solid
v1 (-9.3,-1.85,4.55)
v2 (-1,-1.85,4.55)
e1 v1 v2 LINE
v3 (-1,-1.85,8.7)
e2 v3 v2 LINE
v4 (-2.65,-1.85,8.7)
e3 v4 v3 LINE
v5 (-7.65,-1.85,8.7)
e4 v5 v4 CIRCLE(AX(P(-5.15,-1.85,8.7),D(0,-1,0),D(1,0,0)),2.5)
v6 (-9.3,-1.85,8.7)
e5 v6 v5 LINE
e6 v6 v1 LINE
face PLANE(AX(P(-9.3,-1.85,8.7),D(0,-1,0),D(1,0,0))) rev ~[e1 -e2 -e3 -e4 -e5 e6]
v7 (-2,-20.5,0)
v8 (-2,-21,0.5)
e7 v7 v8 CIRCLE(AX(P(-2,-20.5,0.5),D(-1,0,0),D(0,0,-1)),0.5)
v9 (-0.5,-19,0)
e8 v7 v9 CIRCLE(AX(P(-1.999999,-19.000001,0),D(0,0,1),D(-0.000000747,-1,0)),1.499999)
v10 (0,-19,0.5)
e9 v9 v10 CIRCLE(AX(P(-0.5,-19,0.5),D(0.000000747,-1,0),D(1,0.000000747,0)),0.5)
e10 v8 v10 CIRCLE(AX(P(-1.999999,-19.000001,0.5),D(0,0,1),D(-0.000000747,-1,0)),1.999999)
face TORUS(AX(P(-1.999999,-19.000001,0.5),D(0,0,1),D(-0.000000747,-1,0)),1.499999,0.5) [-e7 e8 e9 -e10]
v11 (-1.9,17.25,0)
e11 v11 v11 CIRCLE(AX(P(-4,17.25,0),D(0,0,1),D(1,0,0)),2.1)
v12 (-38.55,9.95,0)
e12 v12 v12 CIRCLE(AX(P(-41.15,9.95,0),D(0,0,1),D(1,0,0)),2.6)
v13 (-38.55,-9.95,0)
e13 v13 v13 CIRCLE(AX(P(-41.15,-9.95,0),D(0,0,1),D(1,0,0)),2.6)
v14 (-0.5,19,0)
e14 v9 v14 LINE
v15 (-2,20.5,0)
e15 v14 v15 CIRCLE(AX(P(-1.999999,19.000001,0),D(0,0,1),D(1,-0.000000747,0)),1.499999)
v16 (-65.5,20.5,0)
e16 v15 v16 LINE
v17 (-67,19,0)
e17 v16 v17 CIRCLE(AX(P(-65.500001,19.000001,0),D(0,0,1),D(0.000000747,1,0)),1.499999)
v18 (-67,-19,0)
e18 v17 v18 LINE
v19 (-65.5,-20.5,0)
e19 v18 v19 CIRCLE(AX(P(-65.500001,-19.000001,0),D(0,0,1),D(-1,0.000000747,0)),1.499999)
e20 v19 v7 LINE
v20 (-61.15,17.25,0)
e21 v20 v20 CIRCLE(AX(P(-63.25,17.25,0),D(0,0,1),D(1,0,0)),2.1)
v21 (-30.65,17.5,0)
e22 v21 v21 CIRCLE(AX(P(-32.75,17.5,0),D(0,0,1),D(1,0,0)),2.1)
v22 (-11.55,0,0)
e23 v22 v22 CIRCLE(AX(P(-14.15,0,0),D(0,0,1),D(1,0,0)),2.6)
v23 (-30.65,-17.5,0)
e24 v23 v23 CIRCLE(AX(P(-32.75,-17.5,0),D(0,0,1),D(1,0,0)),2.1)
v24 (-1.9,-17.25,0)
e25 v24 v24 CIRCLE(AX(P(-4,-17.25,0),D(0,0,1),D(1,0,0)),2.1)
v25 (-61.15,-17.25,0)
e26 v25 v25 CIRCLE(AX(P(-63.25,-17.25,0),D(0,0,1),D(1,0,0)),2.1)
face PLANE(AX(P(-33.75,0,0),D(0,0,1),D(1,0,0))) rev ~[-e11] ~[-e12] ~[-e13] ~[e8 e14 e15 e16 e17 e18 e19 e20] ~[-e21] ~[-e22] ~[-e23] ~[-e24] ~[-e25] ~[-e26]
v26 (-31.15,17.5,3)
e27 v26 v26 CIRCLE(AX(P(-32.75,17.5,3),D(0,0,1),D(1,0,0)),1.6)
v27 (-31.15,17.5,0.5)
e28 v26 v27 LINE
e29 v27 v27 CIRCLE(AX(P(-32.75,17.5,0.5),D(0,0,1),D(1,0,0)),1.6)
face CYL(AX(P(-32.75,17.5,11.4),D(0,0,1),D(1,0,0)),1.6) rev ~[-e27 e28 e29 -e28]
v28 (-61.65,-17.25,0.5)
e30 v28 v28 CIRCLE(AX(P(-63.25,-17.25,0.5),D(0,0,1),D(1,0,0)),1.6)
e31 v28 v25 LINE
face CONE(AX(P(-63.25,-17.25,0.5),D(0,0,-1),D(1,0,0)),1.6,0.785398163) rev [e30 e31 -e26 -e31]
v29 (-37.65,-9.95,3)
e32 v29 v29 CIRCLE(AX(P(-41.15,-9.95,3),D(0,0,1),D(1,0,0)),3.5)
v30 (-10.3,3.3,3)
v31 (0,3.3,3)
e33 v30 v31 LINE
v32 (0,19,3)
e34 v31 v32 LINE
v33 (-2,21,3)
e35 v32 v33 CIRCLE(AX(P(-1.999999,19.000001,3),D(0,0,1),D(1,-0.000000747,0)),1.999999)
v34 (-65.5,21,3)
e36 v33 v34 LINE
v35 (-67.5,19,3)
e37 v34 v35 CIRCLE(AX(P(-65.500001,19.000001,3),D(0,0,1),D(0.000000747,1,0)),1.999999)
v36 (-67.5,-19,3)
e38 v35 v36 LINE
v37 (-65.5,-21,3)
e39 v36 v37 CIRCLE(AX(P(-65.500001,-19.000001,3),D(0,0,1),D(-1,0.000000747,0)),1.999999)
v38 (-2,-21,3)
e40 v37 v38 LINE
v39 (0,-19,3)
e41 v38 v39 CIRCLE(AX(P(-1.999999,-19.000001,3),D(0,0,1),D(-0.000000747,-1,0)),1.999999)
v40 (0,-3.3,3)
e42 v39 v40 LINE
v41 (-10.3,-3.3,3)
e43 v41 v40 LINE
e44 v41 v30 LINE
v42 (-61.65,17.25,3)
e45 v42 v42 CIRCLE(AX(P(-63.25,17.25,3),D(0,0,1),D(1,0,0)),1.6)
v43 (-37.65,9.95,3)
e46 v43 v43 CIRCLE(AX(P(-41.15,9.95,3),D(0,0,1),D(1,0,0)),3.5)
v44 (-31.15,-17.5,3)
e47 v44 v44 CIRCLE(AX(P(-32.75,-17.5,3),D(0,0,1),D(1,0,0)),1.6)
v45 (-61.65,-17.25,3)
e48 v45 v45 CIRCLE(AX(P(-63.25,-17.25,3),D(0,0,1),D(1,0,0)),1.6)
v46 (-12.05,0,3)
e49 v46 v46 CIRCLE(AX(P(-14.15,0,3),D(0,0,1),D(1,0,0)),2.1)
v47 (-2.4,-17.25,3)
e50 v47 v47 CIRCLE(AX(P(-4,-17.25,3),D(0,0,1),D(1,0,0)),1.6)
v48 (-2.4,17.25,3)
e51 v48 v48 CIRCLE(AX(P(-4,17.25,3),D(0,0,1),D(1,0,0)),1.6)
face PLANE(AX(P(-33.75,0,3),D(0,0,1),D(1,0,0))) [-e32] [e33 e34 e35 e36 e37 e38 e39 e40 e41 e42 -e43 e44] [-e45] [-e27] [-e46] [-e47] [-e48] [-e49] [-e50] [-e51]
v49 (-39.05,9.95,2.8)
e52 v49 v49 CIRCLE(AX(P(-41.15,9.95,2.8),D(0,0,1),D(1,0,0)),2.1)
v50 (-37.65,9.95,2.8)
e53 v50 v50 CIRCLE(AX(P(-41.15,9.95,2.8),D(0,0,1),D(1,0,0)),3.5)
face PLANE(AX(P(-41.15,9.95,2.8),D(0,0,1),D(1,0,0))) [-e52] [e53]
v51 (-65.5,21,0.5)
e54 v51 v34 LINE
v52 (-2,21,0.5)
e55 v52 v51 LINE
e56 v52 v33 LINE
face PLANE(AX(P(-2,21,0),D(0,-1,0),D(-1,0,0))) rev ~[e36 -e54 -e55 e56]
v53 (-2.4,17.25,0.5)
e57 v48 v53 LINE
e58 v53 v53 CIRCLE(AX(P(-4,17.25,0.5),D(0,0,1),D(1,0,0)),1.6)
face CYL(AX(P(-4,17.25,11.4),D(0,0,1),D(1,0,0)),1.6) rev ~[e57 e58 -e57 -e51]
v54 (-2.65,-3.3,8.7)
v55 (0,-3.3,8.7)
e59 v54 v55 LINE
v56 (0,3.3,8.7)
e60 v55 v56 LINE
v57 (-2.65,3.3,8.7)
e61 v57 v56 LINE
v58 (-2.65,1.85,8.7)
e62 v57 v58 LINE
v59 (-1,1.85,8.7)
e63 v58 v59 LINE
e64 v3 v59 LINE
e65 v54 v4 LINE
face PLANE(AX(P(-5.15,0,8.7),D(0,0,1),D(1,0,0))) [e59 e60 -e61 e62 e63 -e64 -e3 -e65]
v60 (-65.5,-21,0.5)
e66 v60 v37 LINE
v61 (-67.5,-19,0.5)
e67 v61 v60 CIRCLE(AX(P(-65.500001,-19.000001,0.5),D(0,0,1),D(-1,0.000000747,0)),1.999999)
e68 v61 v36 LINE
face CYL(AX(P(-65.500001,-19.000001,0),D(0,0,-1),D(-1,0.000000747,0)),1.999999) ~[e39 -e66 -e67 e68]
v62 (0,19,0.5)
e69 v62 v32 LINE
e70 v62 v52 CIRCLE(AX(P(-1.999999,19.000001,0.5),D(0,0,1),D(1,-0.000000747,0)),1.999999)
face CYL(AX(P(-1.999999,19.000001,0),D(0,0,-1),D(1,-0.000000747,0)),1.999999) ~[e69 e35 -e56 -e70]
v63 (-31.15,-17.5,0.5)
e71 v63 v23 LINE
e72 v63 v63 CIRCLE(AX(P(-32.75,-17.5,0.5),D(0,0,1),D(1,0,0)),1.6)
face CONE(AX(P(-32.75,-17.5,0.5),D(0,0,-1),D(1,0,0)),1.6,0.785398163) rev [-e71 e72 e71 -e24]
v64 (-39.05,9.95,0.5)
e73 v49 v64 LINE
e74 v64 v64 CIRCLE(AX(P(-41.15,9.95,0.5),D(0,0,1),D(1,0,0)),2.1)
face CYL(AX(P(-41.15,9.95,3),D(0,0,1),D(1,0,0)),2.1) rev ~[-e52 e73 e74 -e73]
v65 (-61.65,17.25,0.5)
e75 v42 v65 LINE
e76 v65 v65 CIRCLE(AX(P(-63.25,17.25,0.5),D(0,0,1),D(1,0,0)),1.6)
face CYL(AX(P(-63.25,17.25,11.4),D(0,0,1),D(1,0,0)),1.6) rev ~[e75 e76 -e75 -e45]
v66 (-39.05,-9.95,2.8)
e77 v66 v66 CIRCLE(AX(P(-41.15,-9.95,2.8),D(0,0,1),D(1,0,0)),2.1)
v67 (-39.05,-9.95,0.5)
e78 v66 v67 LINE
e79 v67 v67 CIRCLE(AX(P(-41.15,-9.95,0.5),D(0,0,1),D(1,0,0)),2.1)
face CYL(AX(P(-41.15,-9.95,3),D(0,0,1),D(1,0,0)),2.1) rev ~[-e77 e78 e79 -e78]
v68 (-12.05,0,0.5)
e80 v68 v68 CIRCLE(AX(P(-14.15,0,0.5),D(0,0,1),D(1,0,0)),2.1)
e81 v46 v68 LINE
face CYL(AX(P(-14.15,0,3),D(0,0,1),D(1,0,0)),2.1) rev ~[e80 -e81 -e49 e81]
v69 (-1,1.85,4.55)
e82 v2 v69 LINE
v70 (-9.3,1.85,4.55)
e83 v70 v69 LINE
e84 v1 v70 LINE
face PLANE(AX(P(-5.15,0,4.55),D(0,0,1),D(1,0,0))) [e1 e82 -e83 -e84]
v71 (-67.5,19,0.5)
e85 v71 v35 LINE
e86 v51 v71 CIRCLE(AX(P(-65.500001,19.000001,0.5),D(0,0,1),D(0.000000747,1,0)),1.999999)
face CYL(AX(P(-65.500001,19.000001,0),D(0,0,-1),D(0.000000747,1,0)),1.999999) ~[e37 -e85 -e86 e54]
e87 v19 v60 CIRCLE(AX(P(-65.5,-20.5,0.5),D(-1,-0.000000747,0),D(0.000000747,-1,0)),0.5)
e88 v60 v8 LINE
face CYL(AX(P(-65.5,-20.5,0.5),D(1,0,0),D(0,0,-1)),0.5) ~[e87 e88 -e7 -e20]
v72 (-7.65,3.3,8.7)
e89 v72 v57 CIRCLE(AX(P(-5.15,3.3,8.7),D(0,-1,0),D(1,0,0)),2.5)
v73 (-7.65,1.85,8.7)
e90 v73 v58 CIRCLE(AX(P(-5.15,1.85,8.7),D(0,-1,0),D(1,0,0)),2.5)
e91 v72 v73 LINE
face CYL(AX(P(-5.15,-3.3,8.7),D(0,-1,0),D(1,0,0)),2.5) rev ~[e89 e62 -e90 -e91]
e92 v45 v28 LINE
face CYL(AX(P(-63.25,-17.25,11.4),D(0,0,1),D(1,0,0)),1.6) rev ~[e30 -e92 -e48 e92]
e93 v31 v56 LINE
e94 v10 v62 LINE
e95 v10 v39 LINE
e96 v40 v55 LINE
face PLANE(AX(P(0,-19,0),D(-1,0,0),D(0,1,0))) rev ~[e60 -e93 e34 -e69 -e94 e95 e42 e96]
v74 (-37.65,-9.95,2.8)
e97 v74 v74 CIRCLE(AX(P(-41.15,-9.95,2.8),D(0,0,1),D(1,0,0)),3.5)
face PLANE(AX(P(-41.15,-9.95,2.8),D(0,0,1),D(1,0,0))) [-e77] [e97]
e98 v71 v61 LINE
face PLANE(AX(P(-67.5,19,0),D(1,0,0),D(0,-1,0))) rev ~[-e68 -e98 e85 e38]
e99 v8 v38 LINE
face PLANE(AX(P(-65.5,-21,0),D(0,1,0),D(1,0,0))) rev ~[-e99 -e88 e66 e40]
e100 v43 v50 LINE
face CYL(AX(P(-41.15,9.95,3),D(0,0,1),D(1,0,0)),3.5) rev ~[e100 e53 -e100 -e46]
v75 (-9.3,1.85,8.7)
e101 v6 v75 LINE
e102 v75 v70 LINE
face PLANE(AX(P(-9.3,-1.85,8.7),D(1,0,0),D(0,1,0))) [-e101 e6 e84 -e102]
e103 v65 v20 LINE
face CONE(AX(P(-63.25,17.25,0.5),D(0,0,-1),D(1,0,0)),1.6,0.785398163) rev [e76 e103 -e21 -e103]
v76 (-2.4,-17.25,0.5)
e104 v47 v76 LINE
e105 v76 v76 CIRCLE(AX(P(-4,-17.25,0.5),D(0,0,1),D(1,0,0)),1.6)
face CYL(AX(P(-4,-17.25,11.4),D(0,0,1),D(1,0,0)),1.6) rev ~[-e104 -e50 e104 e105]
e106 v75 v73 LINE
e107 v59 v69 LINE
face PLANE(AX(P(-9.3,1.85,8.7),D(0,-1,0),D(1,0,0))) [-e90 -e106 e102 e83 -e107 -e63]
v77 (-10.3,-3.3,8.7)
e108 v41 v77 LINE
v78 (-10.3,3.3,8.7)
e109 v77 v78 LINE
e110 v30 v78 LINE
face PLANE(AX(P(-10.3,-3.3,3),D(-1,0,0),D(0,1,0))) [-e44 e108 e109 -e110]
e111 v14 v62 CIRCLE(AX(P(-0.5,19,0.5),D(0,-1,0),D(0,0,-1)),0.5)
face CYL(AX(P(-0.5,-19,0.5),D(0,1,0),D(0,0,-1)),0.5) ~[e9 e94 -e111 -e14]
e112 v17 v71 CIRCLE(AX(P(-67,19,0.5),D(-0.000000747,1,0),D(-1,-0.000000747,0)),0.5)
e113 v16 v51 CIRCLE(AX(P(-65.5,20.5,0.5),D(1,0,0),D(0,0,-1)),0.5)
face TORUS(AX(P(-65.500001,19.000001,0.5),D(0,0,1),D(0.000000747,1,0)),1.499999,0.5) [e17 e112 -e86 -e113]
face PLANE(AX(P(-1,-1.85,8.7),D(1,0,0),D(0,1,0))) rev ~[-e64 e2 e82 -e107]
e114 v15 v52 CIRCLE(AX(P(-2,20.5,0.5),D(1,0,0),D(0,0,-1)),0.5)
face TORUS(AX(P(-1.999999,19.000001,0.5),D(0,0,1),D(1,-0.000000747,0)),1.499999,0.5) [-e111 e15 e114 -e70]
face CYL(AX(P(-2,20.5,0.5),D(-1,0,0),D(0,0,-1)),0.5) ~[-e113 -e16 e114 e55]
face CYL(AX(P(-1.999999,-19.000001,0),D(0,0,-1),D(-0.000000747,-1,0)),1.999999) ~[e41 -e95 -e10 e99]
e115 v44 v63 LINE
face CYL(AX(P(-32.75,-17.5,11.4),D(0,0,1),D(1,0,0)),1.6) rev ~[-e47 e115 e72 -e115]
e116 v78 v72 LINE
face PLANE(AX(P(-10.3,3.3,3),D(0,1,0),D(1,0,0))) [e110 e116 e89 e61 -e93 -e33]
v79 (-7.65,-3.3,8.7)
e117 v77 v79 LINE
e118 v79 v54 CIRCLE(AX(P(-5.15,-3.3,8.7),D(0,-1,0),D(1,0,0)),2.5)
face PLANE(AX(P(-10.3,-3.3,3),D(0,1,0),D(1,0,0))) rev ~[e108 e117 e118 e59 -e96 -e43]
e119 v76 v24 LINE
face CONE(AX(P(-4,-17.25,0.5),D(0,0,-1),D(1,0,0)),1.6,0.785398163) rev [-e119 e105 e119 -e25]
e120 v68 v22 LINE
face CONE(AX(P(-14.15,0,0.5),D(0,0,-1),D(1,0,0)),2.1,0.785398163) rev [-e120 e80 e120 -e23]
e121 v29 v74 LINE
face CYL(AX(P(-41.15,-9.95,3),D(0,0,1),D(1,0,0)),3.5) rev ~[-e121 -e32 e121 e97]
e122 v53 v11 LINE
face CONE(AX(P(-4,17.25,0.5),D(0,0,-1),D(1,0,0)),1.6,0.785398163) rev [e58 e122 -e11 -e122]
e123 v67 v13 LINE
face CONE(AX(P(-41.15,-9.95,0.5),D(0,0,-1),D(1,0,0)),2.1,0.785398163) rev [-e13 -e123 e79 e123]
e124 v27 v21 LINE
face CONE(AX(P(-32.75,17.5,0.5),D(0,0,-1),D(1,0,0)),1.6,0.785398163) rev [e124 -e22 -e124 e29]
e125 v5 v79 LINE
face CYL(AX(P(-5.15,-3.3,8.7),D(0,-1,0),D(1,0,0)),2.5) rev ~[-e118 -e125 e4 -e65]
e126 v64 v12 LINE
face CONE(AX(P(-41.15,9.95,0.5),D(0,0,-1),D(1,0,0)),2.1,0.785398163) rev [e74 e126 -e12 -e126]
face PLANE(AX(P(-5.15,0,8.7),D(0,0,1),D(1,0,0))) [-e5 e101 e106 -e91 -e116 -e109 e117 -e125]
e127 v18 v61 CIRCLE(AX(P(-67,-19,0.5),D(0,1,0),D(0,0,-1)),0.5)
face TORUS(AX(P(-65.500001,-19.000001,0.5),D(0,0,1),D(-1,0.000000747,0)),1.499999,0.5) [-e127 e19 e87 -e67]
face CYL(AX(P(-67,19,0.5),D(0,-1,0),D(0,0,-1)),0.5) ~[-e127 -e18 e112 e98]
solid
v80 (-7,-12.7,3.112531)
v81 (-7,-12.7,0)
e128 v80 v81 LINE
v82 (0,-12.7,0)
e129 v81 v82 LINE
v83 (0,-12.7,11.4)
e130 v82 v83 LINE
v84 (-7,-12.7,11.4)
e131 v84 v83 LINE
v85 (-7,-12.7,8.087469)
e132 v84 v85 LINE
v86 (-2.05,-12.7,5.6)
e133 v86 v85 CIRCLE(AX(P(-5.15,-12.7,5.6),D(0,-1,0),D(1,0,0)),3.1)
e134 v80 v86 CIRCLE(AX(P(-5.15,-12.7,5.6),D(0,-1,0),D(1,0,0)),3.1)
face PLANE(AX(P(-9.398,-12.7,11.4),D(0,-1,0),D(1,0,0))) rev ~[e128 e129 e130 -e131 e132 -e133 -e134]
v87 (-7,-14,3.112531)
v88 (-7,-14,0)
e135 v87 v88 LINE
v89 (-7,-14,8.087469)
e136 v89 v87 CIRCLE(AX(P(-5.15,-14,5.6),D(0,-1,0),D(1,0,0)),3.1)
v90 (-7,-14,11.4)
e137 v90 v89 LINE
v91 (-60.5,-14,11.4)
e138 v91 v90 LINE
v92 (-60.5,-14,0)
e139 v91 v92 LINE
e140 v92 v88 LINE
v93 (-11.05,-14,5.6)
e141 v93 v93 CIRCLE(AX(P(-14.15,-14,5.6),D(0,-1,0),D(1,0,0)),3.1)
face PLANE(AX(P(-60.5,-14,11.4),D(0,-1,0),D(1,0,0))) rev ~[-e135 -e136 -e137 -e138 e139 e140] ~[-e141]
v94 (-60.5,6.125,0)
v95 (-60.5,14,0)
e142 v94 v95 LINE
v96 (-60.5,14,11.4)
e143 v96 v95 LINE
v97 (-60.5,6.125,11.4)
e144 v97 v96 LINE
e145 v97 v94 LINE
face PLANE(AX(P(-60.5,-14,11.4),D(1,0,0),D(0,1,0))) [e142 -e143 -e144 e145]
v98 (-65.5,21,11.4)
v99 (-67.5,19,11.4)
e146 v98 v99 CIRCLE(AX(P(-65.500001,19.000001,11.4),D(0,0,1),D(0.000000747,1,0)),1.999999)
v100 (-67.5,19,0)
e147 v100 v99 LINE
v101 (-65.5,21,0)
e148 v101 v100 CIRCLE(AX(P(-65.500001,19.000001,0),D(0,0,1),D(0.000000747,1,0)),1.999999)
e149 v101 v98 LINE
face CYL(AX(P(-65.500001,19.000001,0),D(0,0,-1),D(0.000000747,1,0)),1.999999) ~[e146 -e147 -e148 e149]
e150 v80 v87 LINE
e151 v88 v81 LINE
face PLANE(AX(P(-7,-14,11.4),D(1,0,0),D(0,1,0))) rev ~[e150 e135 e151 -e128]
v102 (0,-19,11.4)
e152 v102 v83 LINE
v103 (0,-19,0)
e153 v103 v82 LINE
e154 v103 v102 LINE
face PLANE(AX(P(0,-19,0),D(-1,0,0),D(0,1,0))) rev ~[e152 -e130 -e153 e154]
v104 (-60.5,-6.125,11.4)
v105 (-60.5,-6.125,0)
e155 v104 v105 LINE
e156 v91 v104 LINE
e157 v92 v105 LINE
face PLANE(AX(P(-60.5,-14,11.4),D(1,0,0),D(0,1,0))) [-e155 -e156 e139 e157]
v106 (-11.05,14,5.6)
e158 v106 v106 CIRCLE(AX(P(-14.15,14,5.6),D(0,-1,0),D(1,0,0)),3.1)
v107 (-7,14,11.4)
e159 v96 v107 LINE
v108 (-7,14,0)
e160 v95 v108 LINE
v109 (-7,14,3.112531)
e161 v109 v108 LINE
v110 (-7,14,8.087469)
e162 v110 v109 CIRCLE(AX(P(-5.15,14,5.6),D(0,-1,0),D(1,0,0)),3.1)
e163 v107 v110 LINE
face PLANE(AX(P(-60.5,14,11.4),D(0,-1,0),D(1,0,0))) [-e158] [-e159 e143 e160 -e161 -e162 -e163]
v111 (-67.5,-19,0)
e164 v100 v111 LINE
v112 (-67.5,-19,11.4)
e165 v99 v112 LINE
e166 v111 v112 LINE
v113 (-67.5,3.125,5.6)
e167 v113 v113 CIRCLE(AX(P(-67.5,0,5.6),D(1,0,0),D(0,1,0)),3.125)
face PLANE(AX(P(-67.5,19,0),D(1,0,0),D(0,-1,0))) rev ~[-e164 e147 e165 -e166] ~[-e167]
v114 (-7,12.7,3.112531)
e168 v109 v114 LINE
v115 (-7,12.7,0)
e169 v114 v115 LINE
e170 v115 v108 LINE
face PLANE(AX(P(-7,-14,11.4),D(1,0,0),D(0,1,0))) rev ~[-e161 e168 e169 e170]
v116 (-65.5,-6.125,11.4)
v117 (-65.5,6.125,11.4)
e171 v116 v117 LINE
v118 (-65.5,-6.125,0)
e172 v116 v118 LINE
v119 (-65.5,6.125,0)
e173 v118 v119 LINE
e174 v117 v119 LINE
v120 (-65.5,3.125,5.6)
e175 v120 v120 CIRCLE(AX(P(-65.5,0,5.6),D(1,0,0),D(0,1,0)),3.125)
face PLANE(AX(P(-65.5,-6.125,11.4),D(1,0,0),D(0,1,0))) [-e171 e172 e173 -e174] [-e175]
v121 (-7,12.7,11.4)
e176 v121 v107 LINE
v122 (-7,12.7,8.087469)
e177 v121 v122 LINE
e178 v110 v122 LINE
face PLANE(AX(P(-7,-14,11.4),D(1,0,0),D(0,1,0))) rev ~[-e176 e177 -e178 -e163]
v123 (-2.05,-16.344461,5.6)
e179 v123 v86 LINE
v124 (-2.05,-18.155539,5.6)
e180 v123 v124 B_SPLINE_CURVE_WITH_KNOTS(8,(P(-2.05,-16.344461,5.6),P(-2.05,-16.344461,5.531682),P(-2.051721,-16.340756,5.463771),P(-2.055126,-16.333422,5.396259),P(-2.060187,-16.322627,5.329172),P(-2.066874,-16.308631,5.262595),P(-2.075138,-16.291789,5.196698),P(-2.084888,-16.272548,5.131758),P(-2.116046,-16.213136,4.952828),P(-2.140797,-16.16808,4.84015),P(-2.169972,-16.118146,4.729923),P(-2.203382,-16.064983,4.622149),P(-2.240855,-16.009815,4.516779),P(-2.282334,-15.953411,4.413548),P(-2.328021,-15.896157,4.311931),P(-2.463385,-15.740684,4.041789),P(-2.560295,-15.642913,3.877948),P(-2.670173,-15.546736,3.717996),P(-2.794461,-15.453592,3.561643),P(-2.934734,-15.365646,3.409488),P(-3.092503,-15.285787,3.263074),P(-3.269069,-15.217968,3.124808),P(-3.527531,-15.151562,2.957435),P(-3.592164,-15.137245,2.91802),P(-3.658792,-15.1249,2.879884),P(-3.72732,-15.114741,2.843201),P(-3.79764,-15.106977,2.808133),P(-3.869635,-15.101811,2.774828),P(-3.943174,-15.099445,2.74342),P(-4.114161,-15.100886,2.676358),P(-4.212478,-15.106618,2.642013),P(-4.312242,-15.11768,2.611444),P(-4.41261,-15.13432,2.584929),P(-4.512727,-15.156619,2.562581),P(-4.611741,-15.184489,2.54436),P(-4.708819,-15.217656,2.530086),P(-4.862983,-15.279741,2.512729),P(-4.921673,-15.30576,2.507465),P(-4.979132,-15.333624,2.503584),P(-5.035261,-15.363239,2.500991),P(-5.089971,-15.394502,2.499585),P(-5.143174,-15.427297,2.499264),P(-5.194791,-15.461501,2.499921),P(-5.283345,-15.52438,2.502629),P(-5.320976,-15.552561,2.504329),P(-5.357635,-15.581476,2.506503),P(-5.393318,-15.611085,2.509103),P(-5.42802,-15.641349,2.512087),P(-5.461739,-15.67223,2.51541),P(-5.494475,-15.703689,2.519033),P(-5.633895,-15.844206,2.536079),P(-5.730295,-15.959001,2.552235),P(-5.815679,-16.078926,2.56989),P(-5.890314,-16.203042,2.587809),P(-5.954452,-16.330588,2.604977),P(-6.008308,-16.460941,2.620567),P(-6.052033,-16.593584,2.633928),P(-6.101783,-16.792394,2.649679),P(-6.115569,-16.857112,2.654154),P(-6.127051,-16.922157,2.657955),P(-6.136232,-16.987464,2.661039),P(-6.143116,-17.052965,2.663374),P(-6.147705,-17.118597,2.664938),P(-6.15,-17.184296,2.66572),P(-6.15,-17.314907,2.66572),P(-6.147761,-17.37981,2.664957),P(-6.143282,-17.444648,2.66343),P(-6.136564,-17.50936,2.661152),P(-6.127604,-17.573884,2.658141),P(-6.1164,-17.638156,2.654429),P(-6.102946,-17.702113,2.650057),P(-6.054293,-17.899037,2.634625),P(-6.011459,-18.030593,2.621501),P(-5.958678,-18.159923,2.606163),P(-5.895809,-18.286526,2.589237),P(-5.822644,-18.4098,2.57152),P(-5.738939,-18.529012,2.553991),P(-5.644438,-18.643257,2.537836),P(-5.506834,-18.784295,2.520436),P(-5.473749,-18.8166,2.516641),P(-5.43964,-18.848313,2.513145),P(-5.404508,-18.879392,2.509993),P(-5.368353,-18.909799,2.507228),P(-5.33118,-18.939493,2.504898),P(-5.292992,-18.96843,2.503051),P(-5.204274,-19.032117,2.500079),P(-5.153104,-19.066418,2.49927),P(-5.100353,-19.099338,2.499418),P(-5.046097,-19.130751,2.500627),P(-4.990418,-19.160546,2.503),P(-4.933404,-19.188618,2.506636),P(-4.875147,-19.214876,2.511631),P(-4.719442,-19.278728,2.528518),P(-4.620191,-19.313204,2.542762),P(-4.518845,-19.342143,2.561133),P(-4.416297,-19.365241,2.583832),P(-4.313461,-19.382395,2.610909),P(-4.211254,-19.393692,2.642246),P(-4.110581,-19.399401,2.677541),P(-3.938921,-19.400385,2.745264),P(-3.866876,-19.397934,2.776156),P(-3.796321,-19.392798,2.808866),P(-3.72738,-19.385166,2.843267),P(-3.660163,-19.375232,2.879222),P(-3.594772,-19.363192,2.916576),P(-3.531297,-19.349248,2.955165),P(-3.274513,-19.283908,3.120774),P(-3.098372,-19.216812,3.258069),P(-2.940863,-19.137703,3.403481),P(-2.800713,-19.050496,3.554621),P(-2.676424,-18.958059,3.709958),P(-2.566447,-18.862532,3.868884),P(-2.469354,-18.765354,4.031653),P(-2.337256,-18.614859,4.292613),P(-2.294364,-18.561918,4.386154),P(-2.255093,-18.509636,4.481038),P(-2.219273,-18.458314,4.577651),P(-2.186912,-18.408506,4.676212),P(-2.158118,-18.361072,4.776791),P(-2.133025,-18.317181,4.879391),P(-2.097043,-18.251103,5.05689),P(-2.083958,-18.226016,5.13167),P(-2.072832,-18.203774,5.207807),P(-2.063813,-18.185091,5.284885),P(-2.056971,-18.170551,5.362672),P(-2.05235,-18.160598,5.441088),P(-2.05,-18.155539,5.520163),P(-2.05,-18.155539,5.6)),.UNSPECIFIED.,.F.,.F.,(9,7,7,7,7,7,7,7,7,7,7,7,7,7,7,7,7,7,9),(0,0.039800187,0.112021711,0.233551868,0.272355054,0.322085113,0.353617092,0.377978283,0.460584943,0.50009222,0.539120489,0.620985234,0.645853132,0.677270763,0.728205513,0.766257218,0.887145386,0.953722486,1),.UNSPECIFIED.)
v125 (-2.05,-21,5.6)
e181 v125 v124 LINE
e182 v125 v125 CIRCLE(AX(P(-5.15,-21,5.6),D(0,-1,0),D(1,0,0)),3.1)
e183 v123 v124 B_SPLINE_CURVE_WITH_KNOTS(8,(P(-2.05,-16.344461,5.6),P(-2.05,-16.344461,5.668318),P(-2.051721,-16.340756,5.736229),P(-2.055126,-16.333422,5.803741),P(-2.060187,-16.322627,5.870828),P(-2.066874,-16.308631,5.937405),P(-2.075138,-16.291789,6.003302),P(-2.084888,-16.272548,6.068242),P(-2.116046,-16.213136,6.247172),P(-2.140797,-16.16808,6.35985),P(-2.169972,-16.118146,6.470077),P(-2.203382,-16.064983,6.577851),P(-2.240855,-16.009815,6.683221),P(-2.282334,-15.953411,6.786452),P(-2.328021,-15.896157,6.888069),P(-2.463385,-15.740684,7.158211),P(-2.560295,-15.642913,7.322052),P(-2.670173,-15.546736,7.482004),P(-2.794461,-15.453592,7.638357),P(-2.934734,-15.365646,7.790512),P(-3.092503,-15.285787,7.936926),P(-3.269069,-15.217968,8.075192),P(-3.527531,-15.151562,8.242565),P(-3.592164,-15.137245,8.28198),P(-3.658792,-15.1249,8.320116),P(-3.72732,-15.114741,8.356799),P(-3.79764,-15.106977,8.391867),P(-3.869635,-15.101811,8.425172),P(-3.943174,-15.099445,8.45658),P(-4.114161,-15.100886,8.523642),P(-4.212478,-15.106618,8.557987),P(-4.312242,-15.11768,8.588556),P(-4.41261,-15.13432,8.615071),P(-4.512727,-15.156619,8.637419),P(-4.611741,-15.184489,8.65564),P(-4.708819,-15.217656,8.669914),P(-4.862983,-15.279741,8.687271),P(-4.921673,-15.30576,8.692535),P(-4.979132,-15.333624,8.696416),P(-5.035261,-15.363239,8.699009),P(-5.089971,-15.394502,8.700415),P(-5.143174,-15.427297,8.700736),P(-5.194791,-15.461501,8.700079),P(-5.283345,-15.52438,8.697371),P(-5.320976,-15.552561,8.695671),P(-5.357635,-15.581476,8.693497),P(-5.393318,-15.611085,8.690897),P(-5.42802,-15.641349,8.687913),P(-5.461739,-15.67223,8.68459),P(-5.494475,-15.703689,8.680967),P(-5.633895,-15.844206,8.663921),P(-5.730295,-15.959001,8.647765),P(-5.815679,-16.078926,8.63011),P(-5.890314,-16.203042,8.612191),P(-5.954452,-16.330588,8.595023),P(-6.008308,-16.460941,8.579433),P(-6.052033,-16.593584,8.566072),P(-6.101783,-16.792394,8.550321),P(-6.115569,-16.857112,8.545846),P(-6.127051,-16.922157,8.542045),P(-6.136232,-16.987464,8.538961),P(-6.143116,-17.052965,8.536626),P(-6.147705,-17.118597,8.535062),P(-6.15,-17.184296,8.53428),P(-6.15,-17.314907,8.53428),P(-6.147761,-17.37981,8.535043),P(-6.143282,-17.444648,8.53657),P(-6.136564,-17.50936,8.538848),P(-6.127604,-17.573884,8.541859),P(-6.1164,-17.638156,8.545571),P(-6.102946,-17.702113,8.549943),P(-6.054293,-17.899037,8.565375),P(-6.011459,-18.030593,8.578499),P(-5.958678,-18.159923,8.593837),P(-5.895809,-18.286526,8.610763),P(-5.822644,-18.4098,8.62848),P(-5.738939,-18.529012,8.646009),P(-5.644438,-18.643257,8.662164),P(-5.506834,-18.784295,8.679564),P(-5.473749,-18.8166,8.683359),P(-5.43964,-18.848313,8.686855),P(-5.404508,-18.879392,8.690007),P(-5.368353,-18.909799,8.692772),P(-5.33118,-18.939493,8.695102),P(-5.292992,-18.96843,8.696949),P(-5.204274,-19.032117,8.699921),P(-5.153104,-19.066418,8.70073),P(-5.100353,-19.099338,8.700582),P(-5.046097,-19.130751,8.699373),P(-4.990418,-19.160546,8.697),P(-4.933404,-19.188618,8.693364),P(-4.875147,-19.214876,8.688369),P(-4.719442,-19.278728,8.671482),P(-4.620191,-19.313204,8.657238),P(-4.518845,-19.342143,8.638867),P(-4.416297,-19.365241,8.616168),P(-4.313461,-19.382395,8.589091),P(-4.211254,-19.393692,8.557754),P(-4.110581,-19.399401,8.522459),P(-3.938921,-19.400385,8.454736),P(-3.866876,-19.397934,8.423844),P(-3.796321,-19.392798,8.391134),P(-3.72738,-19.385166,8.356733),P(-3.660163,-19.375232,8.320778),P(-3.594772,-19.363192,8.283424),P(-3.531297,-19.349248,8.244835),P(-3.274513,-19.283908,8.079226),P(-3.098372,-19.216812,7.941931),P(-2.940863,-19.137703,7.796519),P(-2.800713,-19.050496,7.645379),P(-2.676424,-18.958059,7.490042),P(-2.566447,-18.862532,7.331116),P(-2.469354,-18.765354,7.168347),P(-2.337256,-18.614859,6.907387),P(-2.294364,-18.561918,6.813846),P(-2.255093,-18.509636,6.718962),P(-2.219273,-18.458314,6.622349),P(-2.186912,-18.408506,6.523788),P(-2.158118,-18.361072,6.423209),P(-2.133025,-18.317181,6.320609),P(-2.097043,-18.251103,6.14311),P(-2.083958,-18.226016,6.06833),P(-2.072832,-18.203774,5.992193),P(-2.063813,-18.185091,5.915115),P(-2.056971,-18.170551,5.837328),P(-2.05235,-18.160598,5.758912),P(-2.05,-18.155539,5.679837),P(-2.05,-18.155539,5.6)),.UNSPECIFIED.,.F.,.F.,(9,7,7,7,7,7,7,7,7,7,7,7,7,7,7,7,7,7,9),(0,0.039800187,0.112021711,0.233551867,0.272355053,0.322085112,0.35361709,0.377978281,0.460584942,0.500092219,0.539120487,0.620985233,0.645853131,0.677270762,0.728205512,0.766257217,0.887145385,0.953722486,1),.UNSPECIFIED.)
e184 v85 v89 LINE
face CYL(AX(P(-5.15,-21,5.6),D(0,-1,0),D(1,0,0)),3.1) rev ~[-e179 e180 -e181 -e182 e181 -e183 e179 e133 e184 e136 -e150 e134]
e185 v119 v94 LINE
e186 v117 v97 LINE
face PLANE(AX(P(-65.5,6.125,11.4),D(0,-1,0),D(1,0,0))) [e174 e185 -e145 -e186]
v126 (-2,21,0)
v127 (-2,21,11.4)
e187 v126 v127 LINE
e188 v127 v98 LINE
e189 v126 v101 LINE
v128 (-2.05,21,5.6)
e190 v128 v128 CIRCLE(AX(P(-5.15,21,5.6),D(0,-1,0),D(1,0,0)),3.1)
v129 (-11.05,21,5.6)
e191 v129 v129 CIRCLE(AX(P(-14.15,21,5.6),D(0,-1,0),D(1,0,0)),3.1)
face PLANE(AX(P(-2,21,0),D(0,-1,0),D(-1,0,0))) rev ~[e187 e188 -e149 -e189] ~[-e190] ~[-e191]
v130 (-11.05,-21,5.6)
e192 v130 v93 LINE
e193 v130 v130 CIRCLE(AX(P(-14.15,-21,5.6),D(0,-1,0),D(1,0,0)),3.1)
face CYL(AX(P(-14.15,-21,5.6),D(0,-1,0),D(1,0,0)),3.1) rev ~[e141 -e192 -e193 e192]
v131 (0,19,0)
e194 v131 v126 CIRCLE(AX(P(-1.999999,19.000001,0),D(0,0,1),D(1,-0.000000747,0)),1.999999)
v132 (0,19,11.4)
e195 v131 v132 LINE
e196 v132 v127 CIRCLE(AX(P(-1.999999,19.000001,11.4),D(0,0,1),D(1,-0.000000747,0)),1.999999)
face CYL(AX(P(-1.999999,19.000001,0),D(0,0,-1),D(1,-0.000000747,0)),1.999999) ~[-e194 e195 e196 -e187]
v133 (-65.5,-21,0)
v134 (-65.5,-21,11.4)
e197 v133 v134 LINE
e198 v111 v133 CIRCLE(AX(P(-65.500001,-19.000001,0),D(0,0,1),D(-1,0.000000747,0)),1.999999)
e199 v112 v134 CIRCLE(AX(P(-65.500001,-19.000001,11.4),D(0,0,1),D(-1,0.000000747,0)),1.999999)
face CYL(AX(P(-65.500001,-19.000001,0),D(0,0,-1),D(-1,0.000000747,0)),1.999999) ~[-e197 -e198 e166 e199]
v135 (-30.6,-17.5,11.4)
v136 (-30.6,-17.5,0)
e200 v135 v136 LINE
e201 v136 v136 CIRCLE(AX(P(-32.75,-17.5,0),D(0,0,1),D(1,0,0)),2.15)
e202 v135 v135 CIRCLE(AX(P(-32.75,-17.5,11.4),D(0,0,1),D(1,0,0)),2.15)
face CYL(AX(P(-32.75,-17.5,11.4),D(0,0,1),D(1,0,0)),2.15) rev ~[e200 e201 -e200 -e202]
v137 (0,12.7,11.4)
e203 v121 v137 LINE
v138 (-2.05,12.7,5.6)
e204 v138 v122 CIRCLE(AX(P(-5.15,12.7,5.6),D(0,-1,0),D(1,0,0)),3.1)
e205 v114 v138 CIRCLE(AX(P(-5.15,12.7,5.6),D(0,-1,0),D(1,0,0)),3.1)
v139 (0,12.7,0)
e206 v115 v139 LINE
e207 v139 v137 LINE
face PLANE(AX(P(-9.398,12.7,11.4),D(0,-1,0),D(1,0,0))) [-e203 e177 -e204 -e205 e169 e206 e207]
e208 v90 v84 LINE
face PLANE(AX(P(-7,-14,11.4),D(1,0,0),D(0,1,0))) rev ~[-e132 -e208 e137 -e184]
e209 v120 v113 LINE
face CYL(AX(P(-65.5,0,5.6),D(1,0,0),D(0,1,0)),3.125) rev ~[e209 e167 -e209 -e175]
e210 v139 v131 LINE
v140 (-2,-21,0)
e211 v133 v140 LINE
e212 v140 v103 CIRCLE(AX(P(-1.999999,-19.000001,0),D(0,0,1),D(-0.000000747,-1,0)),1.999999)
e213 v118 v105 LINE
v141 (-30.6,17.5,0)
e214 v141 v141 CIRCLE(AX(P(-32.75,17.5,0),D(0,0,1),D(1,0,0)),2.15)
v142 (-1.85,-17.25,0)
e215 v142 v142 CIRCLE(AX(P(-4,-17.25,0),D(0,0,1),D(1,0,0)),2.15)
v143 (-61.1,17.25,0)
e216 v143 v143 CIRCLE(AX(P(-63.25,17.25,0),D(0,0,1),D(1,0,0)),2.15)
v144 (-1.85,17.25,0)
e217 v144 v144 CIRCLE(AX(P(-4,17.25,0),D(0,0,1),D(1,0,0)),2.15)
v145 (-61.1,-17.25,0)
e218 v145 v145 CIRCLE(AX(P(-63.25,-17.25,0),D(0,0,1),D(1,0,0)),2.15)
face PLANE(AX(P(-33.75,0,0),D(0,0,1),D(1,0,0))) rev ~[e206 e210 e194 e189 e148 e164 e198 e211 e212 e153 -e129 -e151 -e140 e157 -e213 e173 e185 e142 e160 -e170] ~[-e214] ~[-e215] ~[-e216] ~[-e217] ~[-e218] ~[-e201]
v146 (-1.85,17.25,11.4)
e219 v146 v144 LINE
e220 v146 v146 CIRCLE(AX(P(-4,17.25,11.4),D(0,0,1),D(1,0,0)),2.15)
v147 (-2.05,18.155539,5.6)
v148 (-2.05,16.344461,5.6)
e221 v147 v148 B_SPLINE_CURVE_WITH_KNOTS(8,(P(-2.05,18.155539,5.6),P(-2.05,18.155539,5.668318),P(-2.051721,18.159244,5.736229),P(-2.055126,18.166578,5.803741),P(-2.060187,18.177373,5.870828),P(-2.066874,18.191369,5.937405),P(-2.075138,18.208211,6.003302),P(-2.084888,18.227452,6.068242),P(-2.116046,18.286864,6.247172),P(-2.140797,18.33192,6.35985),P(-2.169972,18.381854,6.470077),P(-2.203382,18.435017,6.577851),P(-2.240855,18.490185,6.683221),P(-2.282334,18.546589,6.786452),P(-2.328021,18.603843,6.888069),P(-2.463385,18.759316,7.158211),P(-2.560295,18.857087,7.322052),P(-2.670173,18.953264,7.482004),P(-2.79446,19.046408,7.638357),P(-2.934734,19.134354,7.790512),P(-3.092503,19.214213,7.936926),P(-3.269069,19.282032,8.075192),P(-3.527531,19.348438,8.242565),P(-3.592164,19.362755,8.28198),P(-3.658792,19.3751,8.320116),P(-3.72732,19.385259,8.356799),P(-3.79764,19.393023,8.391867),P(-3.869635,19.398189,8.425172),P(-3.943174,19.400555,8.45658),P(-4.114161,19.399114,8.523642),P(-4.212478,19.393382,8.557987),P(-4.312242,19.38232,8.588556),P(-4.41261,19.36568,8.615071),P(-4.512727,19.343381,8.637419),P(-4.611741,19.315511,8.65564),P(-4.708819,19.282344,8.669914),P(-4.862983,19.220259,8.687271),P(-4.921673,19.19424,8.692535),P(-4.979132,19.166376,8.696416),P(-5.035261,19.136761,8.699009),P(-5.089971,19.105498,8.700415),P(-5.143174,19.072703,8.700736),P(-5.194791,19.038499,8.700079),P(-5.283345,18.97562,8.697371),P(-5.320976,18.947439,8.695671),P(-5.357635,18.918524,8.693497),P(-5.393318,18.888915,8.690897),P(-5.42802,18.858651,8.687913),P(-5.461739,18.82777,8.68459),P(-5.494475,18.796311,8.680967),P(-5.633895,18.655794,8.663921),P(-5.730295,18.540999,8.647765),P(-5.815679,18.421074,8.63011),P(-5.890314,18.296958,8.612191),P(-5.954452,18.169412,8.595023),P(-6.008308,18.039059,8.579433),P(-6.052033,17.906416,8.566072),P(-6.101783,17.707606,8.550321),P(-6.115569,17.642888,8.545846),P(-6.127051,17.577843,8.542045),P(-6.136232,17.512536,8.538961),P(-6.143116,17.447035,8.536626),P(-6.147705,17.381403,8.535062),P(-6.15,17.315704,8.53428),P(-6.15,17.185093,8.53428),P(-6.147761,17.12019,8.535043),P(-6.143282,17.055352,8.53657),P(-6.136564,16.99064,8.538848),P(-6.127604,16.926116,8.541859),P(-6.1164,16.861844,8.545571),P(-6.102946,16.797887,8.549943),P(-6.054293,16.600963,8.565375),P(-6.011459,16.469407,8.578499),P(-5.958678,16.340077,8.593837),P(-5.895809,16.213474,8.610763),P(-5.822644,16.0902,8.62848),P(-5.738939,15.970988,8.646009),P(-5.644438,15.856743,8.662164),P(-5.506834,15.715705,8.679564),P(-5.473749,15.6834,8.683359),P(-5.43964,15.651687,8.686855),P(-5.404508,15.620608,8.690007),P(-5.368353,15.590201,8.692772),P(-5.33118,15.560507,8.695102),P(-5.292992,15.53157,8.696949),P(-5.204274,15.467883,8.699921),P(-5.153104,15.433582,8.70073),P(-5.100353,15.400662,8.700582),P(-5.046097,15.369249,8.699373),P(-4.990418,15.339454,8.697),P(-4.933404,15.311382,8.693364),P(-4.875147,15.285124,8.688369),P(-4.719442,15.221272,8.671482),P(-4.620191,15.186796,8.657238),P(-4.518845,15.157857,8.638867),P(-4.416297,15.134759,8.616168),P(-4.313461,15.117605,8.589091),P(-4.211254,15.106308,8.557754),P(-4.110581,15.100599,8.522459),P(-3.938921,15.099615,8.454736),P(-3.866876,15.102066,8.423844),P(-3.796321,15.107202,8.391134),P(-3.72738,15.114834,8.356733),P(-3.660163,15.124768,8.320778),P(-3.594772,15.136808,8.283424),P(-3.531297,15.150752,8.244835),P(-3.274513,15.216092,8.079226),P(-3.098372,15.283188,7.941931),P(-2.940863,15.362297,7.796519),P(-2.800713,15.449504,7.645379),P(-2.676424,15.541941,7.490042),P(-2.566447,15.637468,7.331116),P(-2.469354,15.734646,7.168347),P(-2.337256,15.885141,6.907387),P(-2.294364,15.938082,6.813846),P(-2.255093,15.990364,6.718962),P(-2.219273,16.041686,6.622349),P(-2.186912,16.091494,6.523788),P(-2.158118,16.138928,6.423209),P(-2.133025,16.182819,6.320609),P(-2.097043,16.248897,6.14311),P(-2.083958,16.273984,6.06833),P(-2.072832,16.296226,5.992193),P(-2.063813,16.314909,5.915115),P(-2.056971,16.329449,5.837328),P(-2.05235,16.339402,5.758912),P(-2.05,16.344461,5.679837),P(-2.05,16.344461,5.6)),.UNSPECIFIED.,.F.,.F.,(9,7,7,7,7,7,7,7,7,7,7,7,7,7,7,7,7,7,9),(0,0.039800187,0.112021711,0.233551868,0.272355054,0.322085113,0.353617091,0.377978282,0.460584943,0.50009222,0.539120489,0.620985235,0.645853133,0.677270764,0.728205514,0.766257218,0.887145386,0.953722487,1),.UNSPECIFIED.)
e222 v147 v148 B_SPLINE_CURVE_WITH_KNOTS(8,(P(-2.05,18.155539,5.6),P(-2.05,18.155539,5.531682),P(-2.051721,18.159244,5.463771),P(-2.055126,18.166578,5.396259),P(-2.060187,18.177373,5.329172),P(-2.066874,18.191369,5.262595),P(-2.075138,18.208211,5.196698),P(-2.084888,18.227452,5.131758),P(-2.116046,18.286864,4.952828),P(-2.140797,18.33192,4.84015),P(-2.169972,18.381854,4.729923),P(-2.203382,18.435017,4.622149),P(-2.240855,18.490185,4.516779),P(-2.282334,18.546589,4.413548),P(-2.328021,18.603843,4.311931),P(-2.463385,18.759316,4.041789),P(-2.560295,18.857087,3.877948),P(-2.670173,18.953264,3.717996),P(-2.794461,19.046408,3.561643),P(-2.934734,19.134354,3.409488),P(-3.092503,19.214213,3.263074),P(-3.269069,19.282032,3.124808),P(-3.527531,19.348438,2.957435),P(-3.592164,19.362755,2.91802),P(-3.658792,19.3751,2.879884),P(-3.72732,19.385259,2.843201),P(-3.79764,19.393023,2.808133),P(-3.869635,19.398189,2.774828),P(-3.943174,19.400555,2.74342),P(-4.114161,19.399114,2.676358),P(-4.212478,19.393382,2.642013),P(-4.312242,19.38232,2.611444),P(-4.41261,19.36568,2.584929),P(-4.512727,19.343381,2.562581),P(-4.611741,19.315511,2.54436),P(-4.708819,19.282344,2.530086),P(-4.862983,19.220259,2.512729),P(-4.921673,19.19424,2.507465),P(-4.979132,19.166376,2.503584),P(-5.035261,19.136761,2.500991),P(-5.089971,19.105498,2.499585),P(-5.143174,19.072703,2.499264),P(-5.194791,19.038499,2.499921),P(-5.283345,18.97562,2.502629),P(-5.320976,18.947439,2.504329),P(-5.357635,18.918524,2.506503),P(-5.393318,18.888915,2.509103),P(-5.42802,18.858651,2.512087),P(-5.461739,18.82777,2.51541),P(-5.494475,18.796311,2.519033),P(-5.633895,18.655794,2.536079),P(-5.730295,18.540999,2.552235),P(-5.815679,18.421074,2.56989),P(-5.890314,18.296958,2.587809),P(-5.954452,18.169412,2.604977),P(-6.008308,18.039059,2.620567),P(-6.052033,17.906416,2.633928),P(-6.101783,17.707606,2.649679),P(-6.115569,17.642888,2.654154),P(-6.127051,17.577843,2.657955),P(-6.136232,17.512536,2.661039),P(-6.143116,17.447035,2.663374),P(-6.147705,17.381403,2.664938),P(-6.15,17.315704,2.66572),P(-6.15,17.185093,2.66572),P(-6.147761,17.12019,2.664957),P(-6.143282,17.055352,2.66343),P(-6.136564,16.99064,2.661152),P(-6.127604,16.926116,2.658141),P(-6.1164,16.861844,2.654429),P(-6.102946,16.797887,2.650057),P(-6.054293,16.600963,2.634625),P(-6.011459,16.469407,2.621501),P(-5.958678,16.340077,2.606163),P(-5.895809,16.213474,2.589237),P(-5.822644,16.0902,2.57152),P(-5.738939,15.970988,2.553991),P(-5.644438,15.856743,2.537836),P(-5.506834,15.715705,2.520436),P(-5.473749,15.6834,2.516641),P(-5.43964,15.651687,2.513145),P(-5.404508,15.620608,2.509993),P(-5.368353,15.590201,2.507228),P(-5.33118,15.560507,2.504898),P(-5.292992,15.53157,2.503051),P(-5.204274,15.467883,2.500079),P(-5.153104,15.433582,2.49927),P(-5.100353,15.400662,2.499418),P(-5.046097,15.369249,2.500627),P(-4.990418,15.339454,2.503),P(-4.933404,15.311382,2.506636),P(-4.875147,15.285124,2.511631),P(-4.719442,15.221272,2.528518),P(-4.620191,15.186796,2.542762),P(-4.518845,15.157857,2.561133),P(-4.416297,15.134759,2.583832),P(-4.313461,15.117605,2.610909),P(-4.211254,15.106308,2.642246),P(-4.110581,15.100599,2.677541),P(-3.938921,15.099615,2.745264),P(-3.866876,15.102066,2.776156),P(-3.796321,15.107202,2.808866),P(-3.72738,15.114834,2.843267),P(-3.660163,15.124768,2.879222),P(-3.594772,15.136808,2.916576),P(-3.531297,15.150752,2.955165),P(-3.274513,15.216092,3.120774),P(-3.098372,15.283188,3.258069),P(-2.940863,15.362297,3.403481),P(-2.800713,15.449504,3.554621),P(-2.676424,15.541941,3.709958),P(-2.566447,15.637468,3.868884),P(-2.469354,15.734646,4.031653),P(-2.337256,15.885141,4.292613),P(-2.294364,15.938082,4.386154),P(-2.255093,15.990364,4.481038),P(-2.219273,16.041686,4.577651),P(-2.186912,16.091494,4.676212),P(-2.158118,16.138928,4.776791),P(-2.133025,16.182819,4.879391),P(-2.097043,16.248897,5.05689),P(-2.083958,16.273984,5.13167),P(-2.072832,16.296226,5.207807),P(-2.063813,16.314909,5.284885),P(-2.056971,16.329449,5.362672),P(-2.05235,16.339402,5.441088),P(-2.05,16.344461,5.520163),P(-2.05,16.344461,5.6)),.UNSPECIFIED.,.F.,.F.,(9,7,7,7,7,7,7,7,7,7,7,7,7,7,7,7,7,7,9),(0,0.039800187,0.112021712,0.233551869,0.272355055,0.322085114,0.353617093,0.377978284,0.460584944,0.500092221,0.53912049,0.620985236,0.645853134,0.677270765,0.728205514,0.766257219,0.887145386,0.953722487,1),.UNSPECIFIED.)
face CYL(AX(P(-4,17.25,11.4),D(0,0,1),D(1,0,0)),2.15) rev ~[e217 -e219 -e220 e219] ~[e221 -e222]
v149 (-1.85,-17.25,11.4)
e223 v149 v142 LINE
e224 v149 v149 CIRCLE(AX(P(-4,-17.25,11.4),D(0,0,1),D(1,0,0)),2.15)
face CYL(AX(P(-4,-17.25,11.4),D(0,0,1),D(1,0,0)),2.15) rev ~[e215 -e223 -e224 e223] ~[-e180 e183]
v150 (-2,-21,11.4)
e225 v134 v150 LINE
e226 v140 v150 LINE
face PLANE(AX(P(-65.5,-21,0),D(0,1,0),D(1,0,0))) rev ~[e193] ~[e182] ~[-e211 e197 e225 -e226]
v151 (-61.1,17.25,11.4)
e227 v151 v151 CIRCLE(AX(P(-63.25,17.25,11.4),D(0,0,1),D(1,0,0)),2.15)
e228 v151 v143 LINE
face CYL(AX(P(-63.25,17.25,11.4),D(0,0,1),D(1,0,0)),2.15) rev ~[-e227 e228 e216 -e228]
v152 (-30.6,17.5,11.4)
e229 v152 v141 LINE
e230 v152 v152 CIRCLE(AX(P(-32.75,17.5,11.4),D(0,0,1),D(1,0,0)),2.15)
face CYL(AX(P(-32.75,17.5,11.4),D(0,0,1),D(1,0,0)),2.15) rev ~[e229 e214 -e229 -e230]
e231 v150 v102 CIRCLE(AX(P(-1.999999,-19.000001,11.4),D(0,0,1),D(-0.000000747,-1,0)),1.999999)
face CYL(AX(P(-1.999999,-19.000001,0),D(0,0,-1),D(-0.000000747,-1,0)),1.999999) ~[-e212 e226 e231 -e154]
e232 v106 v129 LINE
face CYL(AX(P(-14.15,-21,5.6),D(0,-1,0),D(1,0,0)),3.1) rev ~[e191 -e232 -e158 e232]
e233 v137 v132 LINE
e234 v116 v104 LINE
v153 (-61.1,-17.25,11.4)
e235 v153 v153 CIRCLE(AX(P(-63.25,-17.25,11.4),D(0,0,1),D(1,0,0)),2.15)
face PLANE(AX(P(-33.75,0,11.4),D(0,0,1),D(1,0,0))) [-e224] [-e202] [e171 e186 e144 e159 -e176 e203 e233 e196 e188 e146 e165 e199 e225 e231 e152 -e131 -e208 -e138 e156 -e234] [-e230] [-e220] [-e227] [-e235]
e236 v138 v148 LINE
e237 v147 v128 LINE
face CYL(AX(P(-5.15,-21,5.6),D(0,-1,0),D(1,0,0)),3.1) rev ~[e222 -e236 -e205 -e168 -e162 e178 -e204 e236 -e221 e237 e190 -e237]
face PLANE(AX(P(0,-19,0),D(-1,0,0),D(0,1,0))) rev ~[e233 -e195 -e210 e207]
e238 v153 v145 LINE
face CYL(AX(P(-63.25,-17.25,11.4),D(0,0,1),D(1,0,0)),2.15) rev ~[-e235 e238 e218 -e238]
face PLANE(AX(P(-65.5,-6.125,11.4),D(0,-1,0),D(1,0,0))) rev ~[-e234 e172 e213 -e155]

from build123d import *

# Parameters (mm, degrees)
PAD_DEPTH       = 11.4
SKETCH001_W     = 53.5
SKETCH001_H     = 28
POCKET_DEPTH    = 11.401
SKETCH002_W     = 15.66
SKETCH002_H     = 25.4
POCKET001_DEPTH = 11.401
SKETCH003_W     = 9.586
SKETCH003_H     = 12.25
POCKET002_DEPTH = 11.401
SKETCH004_R     = 3.125
POCKET003_DEPTH = 2.001
SKETCH005_R     = 2.15
POCKET004_DEPTH = 11.401
SKETCH006_R     = 3.1
POCKET005_DEPTH = 42.001
PAD001_DEPTH    = 3
SKETCH008_R     = 1.6
POCKET006_DEPTH = 11.401
SKETCH009_R     = 2.1
POCKET007_DEPTH = 3.001
SKETCH010_R     = 3.5
POCKET008_DEPTH = 0.2
SKETCH011_R     = 2.1
POCKET009_DEPTH = 3.001
SKETCH012_W     = 10.3
SKETCH012_H     = 6.6
PAD002_DEPTH    = 5.7
SKETCH013_W     = 8.3
SKETCH013_H     = 3.7
POCKET010_DEPTH = 4.15
SKETCH014_R     = 2.5
POCKET011_DEPTH = 24.301
SKETCH015_R     = 2.5
POCKET012_DEPTH = 1
CHAMFER_SIZE    = 0.5
FILLET_R        = 0.5


with BuildPart() as paddleframebody:
    # Sketch → Pad (new body)
    with BuildSketch(Plane.XY):
        with BuildLine():
            Line((-2, 21), (-65.5, 21))
            ThreePointArc((-65.5, 21), (-66.914214, 20.414214), (-67.5, 19))
            Line((-67.5, 19), (-67.5, -19))
            ThreePointArc((-67.5, -19), (-66.914214, -20.414214), (-65.5, -21))
            Line((-65.5, -21), (-2, -21))
            ThreePointArc((-2, -21), (-0.585786, -20.414214), (0, -19))
            Line((0, -19), (0, 19))
            ThreePointArc((0, 19), (-0.585786, 20.414214), (-2, 21))
        make_face()
    extrude(amount=PAD_DEPTH)

    # Sketch001 (on Face10 of Pad) → Pocket (cut, through all)
    with BuildSketch(Plane.XY.offset(11.4)):
        with Locations((-33.75, 0)):
            Rectangle(SKETCH001_W, SKETCH001_H)
    extrude(amount=-POCKET_DEPTH, mode=Mode.SUBTRACT)

    # Sketch002 (on Face5 of Pocket) → Pocket001 (cut, through all)
    with BuildSketch(Plane.XY.offset(11.4)):
        with Locations((-1.568, 0)):
            Rectangle(SKETCH002_W, SKETCH002_H)
    extrude(amount=-POCKET001_DEPTH, mode=Mode.SUBTRACT)

    # Sketch003 (on Face5 of Pocket001) → Pocket002 (cut, through all)
    with BuildSketch(Plane.XY.offset(11.4)):
        with Locations((-60.707, 0)):
            Rectangle(SKETCH003_W, SKETCH003_H)
    extrude(amount=-POCKET002_DEPTH, mode=Mode.SUBTRACT)

    # Sketch004 (on Face13 of Pocket002) → Pocket003 (cut, through all)
    with BuildSketch(Plane.YZ.offset(-65.5)):
        with Locations((0, 5.6)):
            Circle(SKETCH004_R)
    extrude(amount=-POCKET003_DEPTH, mode=Mode.SUBTRACT)

    # Sketch005 (on Face5 of Pocket003) → Pocket004 (cut, through all)
    with BuildSketch(Plane.XY.offset(11.4)):
        with Locations((-63.25, 17.25)):
            Circle(SKETCH005_R)
        with Locations((-4, 17.25)):
            Circle(SKETCH005_R)
        with Locations((-4, -17.25)):
            Circle(SKETCH005_R)
        with Locations((-63.25, -17.25)):
            Circle(SKETCH005_R)
        with Locations((-32.75, -17.5)):
            Circle(SKETCH005_R)
        with Locations((-32.75, 17.5)):
            Circle(SKETCH005_R)
    extrude(amount=-POCKET004_DEPTH, mode=Mode.SUBTRACT)

    # Sketch006 (on Face15 of Pocket004) → Pocket005 (cut, through all)
    with BuildSketch(Plane.XZ.offset(21)):
        with Locations((-5.15, 5.6)):
            Circle(SKETCH006_R)
        with Locations((-14.15, 5.6)):
            Circle(SKETCH006_R)
    extrude(amount=-POCKET005_DEPTH, mode=Mode.SUBTRACT)


with BuildPart() as paddlelidbody:
    # Sketch007 → Pad001 (new body)
    with BuildSketch(Plane.XY):
        with BuildLine():
            Line((-2, 21), (-65.5, 21))
            ThreePointArc((-65.5, 21), (-66.914214, 20.414214), (-67.5, 19))
            Line((-67.5, 19), (-67.5, -19))
            ThreePointArc((-67.5, -19), (-66.914214, -20.414214), (-65.5, -21))
            Line((-65.5, -21), (-2, -21))
            ThreePointArc((-2, -21), (-0.585786, -20.414214), (0, -19))
            Line((0, -19), (0, 19))
            ThreePointArc((0, 19), (-0.585786, 20.414214), (-2, 21))
        make_face()
    extrude(amount=PAD001_DEPTH)

    # Sketch008 (on Face5 of Pocket003) → Pocket006 (cut, through all)
    with BuildSketch(Plane.XY.offset(11.4)):
        with Locations((-63.25, 17.25)):
            Circle(SKETCH008_R)
        with Locations((-4, 17.25)):
            Circle(SKETCH008_R)
        with Locations((-4, -17.25)):
            Circle(SKETCH008_R)
        with Locations((-63.25, -17.25)):
            Circle(SKETCH008_R)
        with Locations((-32.75, -17.5)):
            Circle(SKETCH008_R)
        with Locations((-32.75, 17.5)):
            Circle(SKETCH008_R)
    extrude(amount=-POCKET006_DEPTH, mode=Mode.SUBTRACT)

    # Sketch009 (on Face5 of Pocket006) → Pocket007 (cut, through all)
    with BuildSketch(Plane.XY.offset(3)):
        with Locations((-41.15, 9.95)):
            Circle(SKETCH009_R)
        with Locations((-41.15, -9.95)):
            Circle(SKETCH009_R)
    extrude(amount=-POCKET007_DEPTH, mode=Mode.SUBTRACT)

    # Sketch010 (on Face5 of Pocket006) → Pocket008 (cut)
    with BuildSketch(Plane.XY.offset(3)):
        with Locations((-41.15, 9.95)):
            Circle(SKETCH010_R)
        with Locations((-41.15, -9.95)):
            Circle(SKETCH010_R)
    extrude(amount=-POCKET008_DEPTH, mode=Mode.SUBTRACT)

    # Sketch011 (on Face5 of Pocket008) → Pocket009 (cut, through all)
    with BuildSketch(Plane.XY.offset(3)):
        with Locations((-14.15, 0)):
            Circle(SKETCH011_R)
    extrude(amount=-POCKET009_DEPTH, mode=Mode.SUBTRACT)

    # Sketch012 (on Face5 of Pocket009) → Pad002 (join)
    with BuildSketch(Plane.XY.offset(3)):
        with Locations((-5.15, 0)):
            Rectangle(SKETCH012_W, SKETCH012_H)
    extrude(amount=PAD002_DEPTH)

    # Sketch013 (on Face28 of Pad002) → Pocket010 (cut)
    with BuildSketch(Plane.XY.offset(8.7)):
        with Locations((-5.15, 0)):
            Rectangle(SKETCH013_W, SKETCH013_H)
    extrude(amount=-POCKET010_DEPTH, mode=Mode.SUBTRACT)

    # Sketch014 (on Face22 of Pocket010) → Pocket011 (cut, through all)
    with BuildSketch(Plane.XZ.offset(3.3)):
        with Locations((-5.15, 8.7)):
            Circle(SKETCH014_R)
    extrude(amount=-POCKET011_DEPTH, mode=Mode.SUBTRACT)

    # Sketch015 (on Face20 of Pocket011) → Pocket012 (cut)
    with BuildSketch(Plane(origin=(0, 3.3, 0), x_dir=(-1, 0, 0), z_dir=(0, 1, 0))):
        with Locations((5.15, 8.7)):
            Circle(SKETCH015_R)
    extrude(amount=-POCKET012_DEPTH, mode=Mode.SUBTRACT)

    # Chamfer
    chamfer_edges = [paddlelidbody.edges().sort_by_distance(p)[0] for p in [
        (-5.6, 17.25, 0),
        (-34.35, 17.5, 0),
        (-64.85, 17.25, 0),
        (-64.85, -17.25, 0),
        (-34.35, -17.5, 0),
        (-5.6, -17.25, 0),
        (-16.25, 0, 0),
        (-43.25, 9.95, 0),
        (-43.25, -9.95, 0),
    ]]
    chamfer(chamfer_edges, length=CHAMFER_SIZE)

    # Fillet
    fillet_edges = [paddlelidbody.edges().sort_by_distance(p)[0] for p in [
        (-33.75, 21, 0),
        (-0.585786, 20.414214, 0),
        (0, 0, 0),
        (-0.585786, -20.414214, 0),
        (-33.75, -21, 0),
        (-66.914214, -20.414214, 0),
        (-67.5, 0, 0),
        (-66.914214, 20.414214, 0),
    ]]
    fillet(fillet_edges, radius=FILLET_R)


solid = Compound([paddleframebody.part, paddlelidbody.part])
